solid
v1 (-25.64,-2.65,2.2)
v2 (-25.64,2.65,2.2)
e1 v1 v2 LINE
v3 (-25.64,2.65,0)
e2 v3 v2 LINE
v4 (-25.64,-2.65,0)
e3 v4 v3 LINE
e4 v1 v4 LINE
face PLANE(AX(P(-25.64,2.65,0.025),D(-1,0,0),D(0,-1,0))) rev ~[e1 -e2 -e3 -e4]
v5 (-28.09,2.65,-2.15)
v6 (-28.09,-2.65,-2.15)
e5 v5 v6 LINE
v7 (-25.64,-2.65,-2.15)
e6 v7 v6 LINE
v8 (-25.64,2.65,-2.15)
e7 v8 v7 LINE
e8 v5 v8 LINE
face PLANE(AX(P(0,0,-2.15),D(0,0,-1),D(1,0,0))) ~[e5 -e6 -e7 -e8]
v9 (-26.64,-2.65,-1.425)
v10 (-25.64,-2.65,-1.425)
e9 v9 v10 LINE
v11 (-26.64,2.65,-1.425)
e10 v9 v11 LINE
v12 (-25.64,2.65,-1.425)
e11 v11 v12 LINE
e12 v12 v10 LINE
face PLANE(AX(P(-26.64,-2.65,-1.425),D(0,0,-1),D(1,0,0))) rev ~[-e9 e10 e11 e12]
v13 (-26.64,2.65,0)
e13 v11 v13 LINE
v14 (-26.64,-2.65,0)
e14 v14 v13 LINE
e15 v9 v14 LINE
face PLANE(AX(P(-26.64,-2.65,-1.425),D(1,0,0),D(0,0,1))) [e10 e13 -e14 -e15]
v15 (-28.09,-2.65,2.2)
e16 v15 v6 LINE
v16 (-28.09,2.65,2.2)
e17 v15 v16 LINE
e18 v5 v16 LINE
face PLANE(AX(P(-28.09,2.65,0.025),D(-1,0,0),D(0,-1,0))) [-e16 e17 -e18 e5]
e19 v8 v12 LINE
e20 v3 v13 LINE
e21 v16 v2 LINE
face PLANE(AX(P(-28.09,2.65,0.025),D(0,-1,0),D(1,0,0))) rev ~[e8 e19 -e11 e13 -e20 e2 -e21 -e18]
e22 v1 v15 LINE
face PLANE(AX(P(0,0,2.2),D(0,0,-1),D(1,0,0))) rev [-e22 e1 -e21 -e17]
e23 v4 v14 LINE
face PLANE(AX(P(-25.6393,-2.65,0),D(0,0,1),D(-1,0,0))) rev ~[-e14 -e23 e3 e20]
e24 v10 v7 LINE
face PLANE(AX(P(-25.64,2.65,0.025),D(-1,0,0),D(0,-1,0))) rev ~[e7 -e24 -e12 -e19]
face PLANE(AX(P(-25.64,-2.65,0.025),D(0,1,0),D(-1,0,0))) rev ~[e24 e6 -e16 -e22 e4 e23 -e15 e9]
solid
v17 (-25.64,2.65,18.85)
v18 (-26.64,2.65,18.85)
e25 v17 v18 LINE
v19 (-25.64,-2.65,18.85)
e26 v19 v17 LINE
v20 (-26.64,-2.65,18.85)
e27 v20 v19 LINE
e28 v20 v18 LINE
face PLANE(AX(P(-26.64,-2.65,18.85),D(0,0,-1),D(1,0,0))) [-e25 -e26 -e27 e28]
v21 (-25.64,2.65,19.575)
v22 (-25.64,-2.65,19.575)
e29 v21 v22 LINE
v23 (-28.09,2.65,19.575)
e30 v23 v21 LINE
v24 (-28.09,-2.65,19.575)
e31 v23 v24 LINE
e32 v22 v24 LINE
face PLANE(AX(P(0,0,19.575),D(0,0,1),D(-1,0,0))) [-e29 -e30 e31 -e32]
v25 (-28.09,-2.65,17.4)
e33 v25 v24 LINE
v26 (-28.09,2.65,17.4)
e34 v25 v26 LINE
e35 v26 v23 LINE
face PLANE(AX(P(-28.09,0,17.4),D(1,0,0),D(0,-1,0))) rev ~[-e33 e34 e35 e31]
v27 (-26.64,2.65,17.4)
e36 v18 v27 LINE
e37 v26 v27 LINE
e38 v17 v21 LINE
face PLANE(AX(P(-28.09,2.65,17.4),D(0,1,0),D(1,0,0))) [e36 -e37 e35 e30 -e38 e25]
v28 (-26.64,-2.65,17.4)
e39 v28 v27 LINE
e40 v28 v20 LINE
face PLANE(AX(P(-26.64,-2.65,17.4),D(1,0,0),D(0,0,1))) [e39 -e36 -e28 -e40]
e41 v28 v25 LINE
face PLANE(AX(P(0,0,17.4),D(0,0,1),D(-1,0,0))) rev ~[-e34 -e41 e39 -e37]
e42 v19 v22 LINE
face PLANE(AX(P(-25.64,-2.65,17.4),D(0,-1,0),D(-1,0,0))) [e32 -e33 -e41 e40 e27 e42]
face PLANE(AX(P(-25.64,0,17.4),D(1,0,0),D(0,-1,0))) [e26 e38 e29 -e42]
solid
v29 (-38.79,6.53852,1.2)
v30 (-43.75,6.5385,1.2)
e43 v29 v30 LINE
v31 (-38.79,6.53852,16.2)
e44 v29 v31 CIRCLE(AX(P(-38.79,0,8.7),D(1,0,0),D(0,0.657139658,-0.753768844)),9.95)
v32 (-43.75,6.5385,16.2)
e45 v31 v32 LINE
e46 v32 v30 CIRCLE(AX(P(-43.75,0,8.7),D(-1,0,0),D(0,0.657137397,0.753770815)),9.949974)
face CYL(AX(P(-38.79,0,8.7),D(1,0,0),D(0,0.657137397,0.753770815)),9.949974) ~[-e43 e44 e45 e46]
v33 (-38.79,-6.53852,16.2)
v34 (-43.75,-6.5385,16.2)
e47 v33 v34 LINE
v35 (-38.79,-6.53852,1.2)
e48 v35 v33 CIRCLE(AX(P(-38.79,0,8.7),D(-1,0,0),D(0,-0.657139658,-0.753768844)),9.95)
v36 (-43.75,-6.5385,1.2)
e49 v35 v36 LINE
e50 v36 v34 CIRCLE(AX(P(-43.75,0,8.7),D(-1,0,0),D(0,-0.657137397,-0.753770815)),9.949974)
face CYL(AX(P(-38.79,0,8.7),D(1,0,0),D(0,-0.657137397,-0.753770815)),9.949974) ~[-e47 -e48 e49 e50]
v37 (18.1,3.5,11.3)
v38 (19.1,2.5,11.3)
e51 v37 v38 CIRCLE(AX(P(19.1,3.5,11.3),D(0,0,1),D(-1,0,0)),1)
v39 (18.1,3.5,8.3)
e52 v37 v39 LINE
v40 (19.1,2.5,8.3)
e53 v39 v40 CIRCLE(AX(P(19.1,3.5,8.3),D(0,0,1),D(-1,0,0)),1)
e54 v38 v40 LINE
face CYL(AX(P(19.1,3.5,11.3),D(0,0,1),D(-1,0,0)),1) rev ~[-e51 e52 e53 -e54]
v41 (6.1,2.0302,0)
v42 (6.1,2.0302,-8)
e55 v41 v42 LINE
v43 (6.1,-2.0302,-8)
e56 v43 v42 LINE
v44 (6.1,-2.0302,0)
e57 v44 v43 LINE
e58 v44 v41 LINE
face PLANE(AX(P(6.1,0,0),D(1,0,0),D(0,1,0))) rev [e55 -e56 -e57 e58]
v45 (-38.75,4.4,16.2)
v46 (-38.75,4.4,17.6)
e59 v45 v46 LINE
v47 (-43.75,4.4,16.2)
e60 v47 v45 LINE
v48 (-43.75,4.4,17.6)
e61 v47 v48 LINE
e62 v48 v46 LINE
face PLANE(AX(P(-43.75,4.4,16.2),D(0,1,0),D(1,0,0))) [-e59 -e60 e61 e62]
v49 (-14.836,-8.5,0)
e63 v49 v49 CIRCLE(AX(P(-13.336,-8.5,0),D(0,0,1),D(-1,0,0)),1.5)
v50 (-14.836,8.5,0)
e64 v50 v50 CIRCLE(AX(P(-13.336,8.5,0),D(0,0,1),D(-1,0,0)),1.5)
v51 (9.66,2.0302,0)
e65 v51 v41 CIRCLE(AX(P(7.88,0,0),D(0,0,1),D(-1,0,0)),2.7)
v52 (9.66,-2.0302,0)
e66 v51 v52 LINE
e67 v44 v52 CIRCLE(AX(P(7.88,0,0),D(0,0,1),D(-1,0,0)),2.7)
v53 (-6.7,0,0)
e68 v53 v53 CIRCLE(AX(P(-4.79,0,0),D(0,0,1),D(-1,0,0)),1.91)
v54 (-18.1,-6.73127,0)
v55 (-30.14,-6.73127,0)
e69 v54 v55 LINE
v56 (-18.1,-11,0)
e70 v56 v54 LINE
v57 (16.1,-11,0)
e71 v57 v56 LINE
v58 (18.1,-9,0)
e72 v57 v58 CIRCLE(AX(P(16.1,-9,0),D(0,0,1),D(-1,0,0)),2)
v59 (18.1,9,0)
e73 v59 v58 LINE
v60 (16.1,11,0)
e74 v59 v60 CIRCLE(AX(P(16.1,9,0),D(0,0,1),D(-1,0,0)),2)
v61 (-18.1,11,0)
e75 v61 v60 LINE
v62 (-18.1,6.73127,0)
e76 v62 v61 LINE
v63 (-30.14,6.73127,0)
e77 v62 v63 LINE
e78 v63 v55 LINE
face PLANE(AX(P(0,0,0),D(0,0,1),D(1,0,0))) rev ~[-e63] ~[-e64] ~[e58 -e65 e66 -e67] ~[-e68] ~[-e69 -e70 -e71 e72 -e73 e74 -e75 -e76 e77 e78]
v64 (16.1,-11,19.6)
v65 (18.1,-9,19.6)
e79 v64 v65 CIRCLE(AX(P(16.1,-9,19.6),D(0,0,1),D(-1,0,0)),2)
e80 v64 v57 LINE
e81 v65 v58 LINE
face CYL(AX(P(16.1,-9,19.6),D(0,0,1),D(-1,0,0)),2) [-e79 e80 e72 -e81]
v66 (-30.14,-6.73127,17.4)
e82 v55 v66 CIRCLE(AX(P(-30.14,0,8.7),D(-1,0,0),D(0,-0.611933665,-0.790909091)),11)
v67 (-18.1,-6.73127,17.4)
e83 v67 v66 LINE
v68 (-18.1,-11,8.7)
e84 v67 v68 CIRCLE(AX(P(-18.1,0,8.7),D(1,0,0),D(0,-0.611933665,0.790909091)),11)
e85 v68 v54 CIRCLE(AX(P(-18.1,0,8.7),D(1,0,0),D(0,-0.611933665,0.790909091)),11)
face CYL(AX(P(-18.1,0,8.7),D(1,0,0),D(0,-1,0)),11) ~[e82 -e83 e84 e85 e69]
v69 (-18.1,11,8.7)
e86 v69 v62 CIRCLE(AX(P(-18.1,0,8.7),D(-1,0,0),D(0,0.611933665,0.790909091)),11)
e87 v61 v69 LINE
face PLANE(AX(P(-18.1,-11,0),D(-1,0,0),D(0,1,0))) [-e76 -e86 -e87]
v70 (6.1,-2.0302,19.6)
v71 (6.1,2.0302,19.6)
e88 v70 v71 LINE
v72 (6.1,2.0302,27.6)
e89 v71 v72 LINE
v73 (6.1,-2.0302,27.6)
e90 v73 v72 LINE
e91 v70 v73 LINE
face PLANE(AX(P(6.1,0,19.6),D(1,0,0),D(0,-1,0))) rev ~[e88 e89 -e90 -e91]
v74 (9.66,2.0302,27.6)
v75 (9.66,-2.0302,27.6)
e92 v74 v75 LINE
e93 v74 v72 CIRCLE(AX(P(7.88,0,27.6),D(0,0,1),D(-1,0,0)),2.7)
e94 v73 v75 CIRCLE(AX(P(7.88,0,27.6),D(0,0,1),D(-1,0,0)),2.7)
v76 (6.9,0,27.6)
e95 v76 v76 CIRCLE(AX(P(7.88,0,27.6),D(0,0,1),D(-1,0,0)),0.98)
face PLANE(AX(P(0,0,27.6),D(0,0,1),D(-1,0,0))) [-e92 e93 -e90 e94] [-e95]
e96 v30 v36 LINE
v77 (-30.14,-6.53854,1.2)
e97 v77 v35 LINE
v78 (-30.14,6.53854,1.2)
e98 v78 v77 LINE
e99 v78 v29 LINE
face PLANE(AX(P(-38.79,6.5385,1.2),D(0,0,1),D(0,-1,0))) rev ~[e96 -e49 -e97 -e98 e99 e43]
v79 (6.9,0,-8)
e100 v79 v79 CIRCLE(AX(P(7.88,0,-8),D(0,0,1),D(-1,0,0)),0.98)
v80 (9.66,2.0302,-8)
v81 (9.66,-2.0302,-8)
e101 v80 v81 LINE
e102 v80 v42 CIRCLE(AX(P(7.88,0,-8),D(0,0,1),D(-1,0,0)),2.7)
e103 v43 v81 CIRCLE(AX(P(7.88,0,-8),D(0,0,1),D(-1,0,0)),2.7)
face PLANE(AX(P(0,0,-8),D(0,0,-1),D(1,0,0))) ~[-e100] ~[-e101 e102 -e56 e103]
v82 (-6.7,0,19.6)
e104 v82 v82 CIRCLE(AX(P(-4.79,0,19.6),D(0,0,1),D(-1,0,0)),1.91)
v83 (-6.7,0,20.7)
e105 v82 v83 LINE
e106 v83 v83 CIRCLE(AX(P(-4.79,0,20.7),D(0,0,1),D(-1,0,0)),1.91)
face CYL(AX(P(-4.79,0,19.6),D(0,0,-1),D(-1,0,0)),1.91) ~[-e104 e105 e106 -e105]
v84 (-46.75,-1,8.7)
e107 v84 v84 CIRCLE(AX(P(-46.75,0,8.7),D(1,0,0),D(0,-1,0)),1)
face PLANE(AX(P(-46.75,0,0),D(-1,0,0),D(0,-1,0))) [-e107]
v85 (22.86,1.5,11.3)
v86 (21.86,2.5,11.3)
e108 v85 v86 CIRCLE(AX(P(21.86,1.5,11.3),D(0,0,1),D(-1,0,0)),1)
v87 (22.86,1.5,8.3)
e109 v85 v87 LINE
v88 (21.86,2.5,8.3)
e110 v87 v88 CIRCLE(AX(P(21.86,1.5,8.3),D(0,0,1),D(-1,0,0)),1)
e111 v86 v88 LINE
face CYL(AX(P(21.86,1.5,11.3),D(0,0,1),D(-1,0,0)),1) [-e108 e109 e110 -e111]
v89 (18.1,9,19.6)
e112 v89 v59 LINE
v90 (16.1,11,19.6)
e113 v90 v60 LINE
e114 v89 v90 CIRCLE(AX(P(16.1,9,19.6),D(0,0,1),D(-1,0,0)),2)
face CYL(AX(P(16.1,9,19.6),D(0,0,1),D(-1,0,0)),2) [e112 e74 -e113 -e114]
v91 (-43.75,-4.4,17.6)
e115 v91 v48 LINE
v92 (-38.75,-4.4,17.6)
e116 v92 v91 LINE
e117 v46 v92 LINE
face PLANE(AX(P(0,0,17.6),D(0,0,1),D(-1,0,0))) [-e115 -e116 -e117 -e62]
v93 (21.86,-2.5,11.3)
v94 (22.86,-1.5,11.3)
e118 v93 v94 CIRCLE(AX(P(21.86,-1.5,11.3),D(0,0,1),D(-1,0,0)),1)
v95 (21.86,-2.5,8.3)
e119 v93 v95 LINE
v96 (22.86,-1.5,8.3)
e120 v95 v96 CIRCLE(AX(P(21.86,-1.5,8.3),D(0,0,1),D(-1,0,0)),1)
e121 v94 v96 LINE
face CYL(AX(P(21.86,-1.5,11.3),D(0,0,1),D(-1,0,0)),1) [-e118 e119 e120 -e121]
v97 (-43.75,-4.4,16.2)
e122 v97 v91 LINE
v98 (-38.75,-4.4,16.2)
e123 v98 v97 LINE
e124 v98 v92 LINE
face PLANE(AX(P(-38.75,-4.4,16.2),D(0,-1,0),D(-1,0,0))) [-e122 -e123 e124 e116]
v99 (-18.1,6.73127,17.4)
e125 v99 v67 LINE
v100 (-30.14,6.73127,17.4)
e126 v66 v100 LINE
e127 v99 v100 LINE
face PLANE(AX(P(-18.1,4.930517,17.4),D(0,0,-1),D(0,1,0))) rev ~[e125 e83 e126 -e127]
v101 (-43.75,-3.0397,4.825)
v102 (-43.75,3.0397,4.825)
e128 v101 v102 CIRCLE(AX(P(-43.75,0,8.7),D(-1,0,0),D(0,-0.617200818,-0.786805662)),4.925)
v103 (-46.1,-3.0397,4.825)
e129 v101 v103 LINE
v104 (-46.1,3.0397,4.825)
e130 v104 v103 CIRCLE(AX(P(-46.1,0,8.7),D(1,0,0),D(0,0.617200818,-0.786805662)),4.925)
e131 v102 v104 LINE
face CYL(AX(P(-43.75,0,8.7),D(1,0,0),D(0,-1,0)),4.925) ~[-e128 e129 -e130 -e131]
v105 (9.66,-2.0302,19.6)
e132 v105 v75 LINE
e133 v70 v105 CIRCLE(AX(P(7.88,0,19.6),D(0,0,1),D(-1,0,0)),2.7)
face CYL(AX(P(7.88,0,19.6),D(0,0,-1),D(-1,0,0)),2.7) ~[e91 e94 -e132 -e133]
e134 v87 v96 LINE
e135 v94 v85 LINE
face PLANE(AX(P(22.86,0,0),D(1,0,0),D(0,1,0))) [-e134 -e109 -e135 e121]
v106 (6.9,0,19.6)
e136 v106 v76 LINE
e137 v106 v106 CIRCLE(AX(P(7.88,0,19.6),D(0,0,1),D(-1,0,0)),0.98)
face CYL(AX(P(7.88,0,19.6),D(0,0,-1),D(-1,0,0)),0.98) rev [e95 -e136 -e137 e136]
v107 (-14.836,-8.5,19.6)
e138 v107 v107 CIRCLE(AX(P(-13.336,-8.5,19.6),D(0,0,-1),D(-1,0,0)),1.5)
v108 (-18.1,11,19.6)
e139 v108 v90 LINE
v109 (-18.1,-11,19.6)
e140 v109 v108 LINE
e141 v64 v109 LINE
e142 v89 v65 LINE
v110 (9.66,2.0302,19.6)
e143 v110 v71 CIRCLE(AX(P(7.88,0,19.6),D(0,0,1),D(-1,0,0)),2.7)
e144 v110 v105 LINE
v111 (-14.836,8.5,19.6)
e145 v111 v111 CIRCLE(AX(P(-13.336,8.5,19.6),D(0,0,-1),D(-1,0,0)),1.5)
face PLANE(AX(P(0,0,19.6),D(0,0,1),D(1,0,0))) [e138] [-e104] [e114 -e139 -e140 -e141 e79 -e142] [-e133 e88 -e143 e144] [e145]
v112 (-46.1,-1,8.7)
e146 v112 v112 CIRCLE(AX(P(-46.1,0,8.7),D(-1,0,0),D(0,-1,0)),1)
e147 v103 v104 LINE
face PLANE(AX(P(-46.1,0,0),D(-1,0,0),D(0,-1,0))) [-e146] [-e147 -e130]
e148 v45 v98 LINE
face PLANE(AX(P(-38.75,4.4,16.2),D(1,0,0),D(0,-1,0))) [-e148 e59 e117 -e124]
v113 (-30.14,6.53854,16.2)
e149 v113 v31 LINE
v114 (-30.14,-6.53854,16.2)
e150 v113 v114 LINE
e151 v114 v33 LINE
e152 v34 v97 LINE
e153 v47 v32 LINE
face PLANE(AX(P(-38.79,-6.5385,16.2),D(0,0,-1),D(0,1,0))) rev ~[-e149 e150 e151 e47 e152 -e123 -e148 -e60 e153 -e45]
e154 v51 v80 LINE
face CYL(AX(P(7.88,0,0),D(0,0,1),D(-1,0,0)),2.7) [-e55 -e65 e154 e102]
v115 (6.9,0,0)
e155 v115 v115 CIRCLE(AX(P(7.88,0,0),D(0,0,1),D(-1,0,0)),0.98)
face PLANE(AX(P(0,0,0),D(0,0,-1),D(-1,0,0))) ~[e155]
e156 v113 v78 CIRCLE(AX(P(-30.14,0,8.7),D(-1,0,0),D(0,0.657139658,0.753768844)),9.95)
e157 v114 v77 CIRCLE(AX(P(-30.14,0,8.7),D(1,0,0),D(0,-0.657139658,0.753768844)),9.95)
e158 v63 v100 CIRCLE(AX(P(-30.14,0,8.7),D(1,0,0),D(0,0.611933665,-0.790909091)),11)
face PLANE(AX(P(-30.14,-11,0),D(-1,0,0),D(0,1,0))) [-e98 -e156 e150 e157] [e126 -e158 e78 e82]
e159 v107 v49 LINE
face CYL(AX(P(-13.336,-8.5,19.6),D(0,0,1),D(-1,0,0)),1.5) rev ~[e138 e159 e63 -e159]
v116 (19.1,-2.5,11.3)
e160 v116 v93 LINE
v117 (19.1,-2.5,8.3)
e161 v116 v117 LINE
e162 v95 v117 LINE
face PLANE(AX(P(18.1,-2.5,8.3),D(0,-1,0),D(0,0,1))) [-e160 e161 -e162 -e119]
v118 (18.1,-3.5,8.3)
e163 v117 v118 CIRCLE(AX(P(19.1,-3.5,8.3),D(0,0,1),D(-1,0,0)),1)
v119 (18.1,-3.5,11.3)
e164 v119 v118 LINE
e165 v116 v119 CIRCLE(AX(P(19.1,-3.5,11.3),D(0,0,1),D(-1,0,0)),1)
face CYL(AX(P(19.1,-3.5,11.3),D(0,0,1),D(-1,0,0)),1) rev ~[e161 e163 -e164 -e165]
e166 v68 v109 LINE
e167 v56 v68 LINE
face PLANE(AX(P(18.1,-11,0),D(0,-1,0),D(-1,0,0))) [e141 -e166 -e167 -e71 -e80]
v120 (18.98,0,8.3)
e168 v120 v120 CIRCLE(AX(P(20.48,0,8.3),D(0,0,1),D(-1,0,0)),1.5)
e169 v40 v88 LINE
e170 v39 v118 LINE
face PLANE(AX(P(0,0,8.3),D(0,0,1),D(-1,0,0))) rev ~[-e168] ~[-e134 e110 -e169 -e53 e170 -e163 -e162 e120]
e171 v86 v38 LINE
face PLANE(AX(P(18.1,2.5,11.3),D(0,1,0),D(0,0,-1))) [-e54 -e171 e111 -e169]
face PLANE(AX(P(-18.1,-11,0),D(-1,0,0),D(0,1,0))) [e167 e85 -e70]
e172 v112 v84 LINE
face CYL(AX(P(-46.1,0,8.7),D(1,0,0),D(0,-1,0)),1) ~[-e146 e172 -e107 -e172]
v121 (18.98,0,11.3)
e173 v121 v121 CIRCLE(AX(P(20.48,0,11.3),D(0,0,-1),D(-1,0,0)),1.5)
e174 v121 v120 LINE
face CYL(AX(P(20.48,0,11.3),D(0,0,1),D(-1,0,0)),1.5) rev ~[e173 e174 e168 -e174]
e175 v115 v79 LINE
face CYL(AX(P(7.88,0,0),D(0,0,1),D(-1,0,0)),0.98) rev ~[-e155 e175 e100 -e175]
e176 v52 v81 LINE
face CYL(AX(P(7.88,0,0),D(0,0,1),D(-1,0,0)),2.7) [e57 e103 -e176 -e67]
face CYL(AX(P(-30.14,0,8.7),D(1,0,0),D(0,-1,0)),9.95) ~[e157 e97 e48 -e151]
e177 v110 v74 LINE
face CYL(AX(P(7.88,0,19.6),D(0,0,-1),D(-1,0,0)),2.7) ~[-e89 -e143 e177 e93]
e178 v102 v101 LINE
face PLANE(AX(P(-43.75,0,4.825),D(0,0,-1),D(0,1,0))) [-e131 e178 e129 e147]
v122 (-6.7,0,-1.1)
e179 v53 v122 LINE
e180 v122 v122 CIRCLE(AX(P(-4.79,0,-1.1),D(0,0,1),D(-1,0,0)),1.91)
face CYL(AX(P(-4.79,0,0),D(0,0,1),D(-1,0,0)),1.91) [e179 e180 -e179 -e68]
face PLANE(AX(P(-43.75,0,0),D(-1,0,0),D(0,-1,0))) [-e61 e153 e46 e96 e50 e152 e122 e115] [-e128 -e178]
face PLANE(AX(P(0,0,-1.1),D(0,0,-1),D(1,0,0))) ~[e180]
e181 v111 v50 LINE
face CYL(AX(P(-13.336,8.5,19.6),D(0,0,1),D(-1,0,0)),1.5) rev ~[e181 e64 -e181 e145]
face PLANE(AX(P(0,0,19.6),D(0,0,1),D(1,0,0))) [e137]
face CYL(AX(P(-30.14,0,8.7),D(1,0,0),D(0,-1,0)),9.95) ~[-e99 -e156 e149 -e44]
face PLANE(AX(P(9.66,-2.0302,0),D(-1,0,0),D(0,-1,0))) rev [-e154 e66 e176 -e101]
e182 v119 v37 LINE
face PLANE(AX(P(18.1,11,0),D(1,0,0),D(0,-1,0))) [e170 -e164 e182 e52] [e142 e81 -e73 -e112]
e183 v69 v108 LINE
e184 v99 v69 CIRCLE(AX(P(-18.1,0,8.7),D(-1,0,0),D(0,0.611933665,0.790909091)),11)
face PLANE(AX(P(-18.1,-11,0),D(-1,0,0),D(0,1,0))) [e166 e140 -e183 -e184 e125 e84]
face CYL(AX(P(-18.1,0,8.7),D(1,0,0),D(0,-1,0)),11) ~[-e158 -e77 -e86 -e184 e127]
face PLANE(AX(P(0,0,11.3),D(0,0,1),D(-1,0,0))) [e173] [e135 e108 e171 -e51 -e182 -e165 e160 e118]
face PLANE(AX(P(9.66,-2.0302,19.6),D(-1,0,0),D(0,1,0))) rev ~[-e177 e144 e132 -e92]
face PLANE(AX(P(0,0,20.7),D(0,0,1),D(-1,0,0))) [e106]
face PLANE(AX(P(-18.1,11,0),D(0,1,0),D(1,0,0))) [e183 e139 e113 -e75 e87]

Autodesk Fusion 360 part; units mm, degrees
sketch "Sketch1" plane through (0, 0, 0) normal (0, 0, 1) x (1, 0, 0)
  line L0 (-18.1, 11) -> (18.1, 11)
  line L1 (18.1, 11) -> (18.1, -11)
  line L2 (18.1, -11) -> (-18.1, -11)
  line L3 (-18.1, -11) -> (-18.1, 11)
  line L4 (-18.1, 11) -> (18.1, -11) construction
  line L5 (18.1, 11) -> (-18.1, -11) construction
  dimension "d1" = 36.2
  dimension "d2" = 22
extrude "Extrude1" add sketch "Sketch1" along normal blind 19.6 makes body 1
sketch "Sketch2" plane through (0, 0, 19.6) normal (0, 0, 1) x (-1, 0, 0)
  line L0 (18.1, 11) -> (-18.1, 11)
  line L1 (-18.1, 11) -> (-18.1, -11)
  line L2 (-18.1, -11) -> (18.1, -11)
  line L3 (18.1, -11) -> (18.1, 11)
  circle A0 centre (-7.88, 0) radius 2.7
  line L4 (-6.1, 0) -> (-6.1, -2.0302)
  line L5 (-6.1, 0) -> (-6.1, 2.0302)
  line L6 (-9.66, 0) -> (-9.66, -2.0302)
  line L7 (-9.66, 2.0302) -> (-9.66, 0)
  circle A1 centre (-7.88, 0) radius 0.98
  point P0 (-7.88, 0)
  point P1 (-6.1, 0)
  point P2 (-9.66, 0)
  dimension "d6" = 3.56
  dimension "d8" = 5.4
extrude "Extrude2" add sketch "Sketch2" along normal blind 8 contours A0 L4 L5 L6 L7 bodies 1
sketch "Sketch3" plane through (0, 0, 19.6) normal (0, 0, 1) x (-1, 0, 0)
  line L0 (18.1, 11) -> (-18.1, 11)
  line L1 (-18.1, 11) -> (-18.1, -11)
  line L2 (-18.1, -11) -> (18.1, -11)
  line L3 (18.1, -11) -> (18.1, 11)
  arc A0 (-9.66, -2.0302) -> (-6.1, -2.0302) centre (-7.88, 0) ccw
  line L4 (-9.66, -2.0302) -> (-9.66, 2.0302)
  arc A1 (-6.1, 2.0302) -> (-9.66, 2.0302) centre (-7.88, 0) ccw
  line L5 (-6.1, 2.0302) -> (-6.1, -2.0302)
  circle A2 centre (4.79, 0) radius 1.91
extrude "Extrude3" add sketch "Sketch3" along normal blind 1.1 contours A2 bodies 1
mirror "Mirror1" about plane through (0, 0, 9.8) normal (0, 0, 1) of bodies 1 merged
sketch "Sketch4" plane through (0, 0, 0) normal (0, 0, -1) x (1, 0, 0)
  line L0 (18.1, 11) -> (-18.1, 11)
  line L1 (-18.1, 11) -> (-18.1, -11)
  line L2 (-18.1, -11) -> (18.1, -11)
  line L3 (18.1, -11) -> (18.1, 11)
  arc A0 (6.1, -2.0302) -> (9.66, -2.0302) centre (7.88, 0) ccw
  line L4 (6.1, -2.0302) -> (6.1, 2.0302)
  arc A1 (9.66, 2.0302) -> (6.1, 2.0302) centre (7.88, 0) ccw
  line L5 (9.66, 2.0302) -> (9.66, -2.0302)
  circle A2 centre (-4.79, 0) radius 1.91
extrude "Extrude4" cut 1 faces at (-4.2895, 0.234, 20.7) along direction (0, 0, 1) blind 1.1 on bodies 1 bodies 1
sketch "Sketch5" plane through (18.1, 0, 0) normal (1, 0, 0) x (0, 1, 0)
  line L0 (-11, 0) -> (11, 0)
  line L1 (11, 0) -> (11, 19.6)
  line L2 (11, 19.6) -> (-11, 19.6)
  line L3 (-11, 19.6) -> (-11, 0)
  line L4 (0, 0) -> (0, 9.8)
  line L5 (-2.5, 11.3) -> (2.5, 11.3)
  line L6 (2.5, 11.3) -> (2.5, 8.3)
  line L7 (2.5, 8.3) -> (-2.5, 8.3)
  line L8 (-2.5, 8.3) -> (-2.5, 11.3)
  line L9 (-2.5, 11.3) -> (2.5, 8.3) construction
  line L10 (2.5, 11.3) -> (-2.5, 8.3) construction
  point P0 (0, 9.8)
  dimension "d20" = 9.8
  dimension "d21" = 5
  dimension "d22" = 3
extrude "Extrude5" add sketch "Sketch5" along normal blind 4.76 contours L5 L6 L7 L8 bodies 1
sketch "Sketch6" plane through (0, 0, 11.3) normal (0, 0, 1) x (-1, 0, 0)
  line L0 (-18.1, -2.5) -> (-18.1, 2.5)
  line L1 (-18.1, 2.5) -> (-22.86, 2.5)
  line L2 (-22.86, 2.5) -> (-22.86, -2.5)
  line L3 (-22.86, -2.5) -> (-18.1, -2.5)
  line L4 (-22.86, 0) -> (-20.48, 0)
  circle A0 centre (-20.48, 0) radius 1.5
  dimension "d25" = 2.38
  dimension "d26" = 3
extrude "Extrude6" cut sketch "Sketch6" against normal blind 3 contours A0 bodies 1
sketch "Sketch7" plane through (0, 0, 11.3) normal (0, 0, 1) x (-1, 0, 0)
  circle A0 centre (-20.48, 0) radius 1.5
  line L0 (-18.1, -2.5) -> (-18.1, 2.5)
  line L1 (-18.1, 2.5) -> (-22.86, 2.5)
  line L2 (-22.86, 2.5) -> (-22.86, -2.5)
  line L3 (-22.86, -2.5) -> (-18.1, -2.5)
  line L4 (-22.86, -2.5) -> (-21.86, -2.5)
  line L5 (-21.86, -2.5) -> (-21.86, -1.5)
  line L6 (-21.86, -1.5) -> (-22.86, -1.5)
  line L7 (-22.86, -1.5) -> (-22.86, -2.5)
  line L8 (-22.86, 2.5) -> (-21.86, 2.5)
  line L9 (-21.86, 2.5) -> (-21.86, 1.5)
  line L10 (-21.86, 1.5) -> (-22.86, 1.5)
  line L11 (-22.86, 1.5) -> (-22.86, 2.5)
  circle A1 centre (-21.86, 1.5) radius 1
  circle A2 centre (-21.86, -1.5) radius 1
  line L12 (-18.1, -2.5) -> (-19.1, -2.5)
  line L13 (-19.1, -2.5) -> (-19.1, -3.5)
  line L14 (-19.1, -3.5) -> (-18.1, -3.5)
  line L15 (-18.1, -3.5) -> (-18.1, -2.5)
  line L16 (-18.1, 2.5) -> (-19.1, 2.5)
  line L17 (-19.1, 2.5) -> (-19.1, 3.5)
  line L18 (-19.1, 3.5) -> (-18.1, 3.5)
  line L19 (-18.1, 3.5) -> (-18.1, 2.5)
  circle A3 centre (-19.1, 3.5) radius 1
  circle A4 centre (-19.1, -3.5) radius 1
  dimension "d29" = 1
  dimension "d30" = 1
  dimension "d31" = 1
  dimension "d32" = 1
  dimension "d33" = 1
  dimension "d34" = 1
  dimension "d35" = 1
  dimension "d36" = 1
extrude "Extrude7" cut sketch "Sketch7" against normal blind 3 contours L1 L2 L8 L11 A1 | L2 L3 L4 L7 A2 | L1 L16 L19 A3 | L3 L12 L15 A4 bodies 1
sketch "Sketch8" plane through (0, 0, 11.3) normal (0, 0, 1) x (-1, 0, 0)
  circle A0 centre (-20.48, 0) radius 1.5
  arc A1 (-22.86, -1.5) -> (-21.86, -2.5) centre (-21.86, -1.5) ccw
  line L0 (-21.86, -2.5) -> (-18.1, -2.5)
  line L1 (-18.1, -2.5) -> (-18.1, 2.5)
  line L2 (-18.1, 2.5) -> (-21.86, 2.5)
  arc A2 (-21.86, 2.5) -> (-22.86, 1.5) centre (-21.86, 1.5) ccw
  line L3 (-22.86, 1.5) -> (-22.86, -1.5)
  line L4 (-18.1, -2.5) -> (-19.1, -2.5)
  line L5 (-19.1, -2.5) -> (-19.1, -3.5)
  line L6 (-19.1, -3.5) -> (-18.1, -3.5)
  line L7 (-18.1, -3.5) -> (-18.1, -2.5)
  line L8 (-18.1, 2.5) -> (-19.1, 2.5)
  line L9 (-19.1, 2.5) -> (-19.1, 3.5)
  line L10 (-19.1, 3.5) -> (-18.1, 3.5)
  line L11 (-18.1, 3.5) -> (-18.1, 2.5)
  circle A3 centre (-19.1, -3.5) radius 1
  circle A4 centre (-19.1, 3.5) radius 1
  dimension "d39" = 1
  dimension "d40" = 1
  dimension "d41" = 1
  dimension "d42" = 1
extrude "Extrude8" add sketch "Sketch8" against normal blind 3 contours L0 L4 L7 A3 | L2 L8 L11 A4 bodies 1
sketch "Sketch9" plane through (0, 0, 19.6) normal (0, 0, 1) x (-1, 0, 0)
  circle A0 centre (4.79, 0) radius 1.91
  line L0 (18.1, 11) -> (-18.1, 11)
  line L1 (-18.1, 11) -> (-18.1, -11)
  line L2 (-18.1, -11) -> (18.1, -11)
  line L3 (18.1, -11) -> (18.1, 11)
  arc A1 (-9.66, -2.0302) -> (-6.1, -2.0302) centre (-7.88, 0) ccw
  line L4 (-9.66, -2.0302) -> (-9.66, 2.0302)
  arc A2 (-6.1, 2.0302) -> (-9.66, 2.0302) centre (-7.88, 0) ccw
  line L5 (-6.1, 2.0302) -> (-6.1, -2.0302)
  line L6 (-18.1, -11) -> (-16.1, -11)
  line L7 (-16.1, -11) -> (-16.1, -9)
  line L8 (-16.1, -9) -> (-18.1, -9)
  line L9 (-18.1, -9) -> (-18.1, -11)
  line L10 (-18.1, 11) -> (-16.1, 11)
  line L11 (-16.1, 11) -> (-16.1, 9)
  line L12 (-16.1, 9) -> (-18.1, 9)
  line L13 (-18.1, 9) -> (-18.1, 11)
  circle A3 centre (-16.1, -9) radius 2
  circle A4 centre (-16.1, 9) radius 2
  dimension "d45" = 2
  dimension "d46" = 2
  dimension "d47" = 2
  dimension "d48" = 2
extrude "Extrude9" cut sketch "Sketch9" against normal blind 19.6 contours L0 L1 L10 L13 A4 | L1 L2 L6 L9 A3 bodies 1
sketch "Sketch10" plane through (-18.1, 0, 0) normal (-1, 0, 0) x (0, -1, 0)
  line L0 (-11, 0) -> (11, 0)
  line L1 (11, 0) -> (11, 19.6)
  line L2 (11, 19.6) -> (-11, 19.6)
  line L3 (-11, 19.6) -> (-11, 0)
  line L4 (0, 0) -> (-6.875, 0)
  line L5 (0, 0) -> (6.875, 0)
  line L6 (0, 0) -> (0, 17.4)
  line L7 (0, 0) -> (0, 8.7)
  line L8 (0, 17.4) -> (-6.875, 17.4)
  line L9 (0, 17.4) -> (6.875, 17.4)
  circle A0 centre (0, 8.7) radius 11
  circle A1 centre (0, 8.7) radius 10
  line L10 (0, 17.4) -> (0, 16.4)
  line L11 (0, 0) -> (0, 1)
  line L12 (0, 0) -> (0, 1)
  line L13 (0, 1) -> (7.8556, 1)
  line L14 (0, 1) -> (-7.8556, 1)
  line L15 (0, 16.4) -> (7.8556, 16.4)
  line L16 (0, 16.4) -> (-7.8556, 16.4)
  dimension "d51" = 6.875
  dimension "d52" = 6.875
  dimension "d53" = 17.4
  dimension "d54" = 8.7
  dimension "d55" = 6.875
  dimension "d56" = 6.875
  dimension "d57" = 20
  dimension "d58" = 1
  dimension "d59" = 1
extrude "Extrude10" add sketch "Sketch10" along normal blind 12.04 contours A0 A1 L14 L16 | L0 L4 A0 A1 L14 | L8 A0 A1 L16 | L0 L4 L6 L7 A1 L11 L12 L14 | L0 L5 A0 A1 L13 | L6 L8 A1 L10 L16 | L0 L5 L6 L7 A1 L11 L12 L13 | A0 A1 L13 L15 | L6 L9 A1 L10 L15 | L9 A0 A1 L15 bodies 1
extrude "Extrude11" add 1 faces at (-18.1, 3.5547, 10.9288) along direction (-1, 0, 0) blind 12.04 on bodies 1 bodies 1
sketch "Sketch11" plane through (-30.14, 0, 0) normal (-1, 0, 0) x (0, -1, 0)
  line L0 (-6.7313, 0) -> (6.7313, 0)
  arc A0 (6.7313, 0) -> (6.7313, 17.4) centre (0, 8.7) ccw
  line L1 (6.7313, 17.4) -> (-6.7313, 17.4)
  arc A1 (-6.7313, 17.4) -> (-6.7313, 0) centre (0, 8.7) ccw
  line L2 (0, 8.7) -> (-9.95, 8.7)
  line L3 (0, 8.7) -> (9.95, 8.7)
  line L4 (0, 8.7) -> (0, 16.2)
  line L5 (0, 8.7) -> (0, 1.2)
  line L6 (0, 1.2) -> (-11, 1.2)
  line L7 (-11, 1.2) -> (11, 1.2)
  line L8 (11, 1.2) -> (11, 16.2)
  line L9 (11, 16.2) -> (0, 16.2)
  line L10 (0, 16.2) -> (-11, 16.2)
  line L11 (-11, 16.2) -> (-11, 1.2)
  circle A2 centre (0, 8.7) radius 9.95
  point P0 (0, 8.7)
  dimension "d64" = 9.95
  dimension "d65" = 9.95
  dimension "d66" = 7.5
  dimension "d67" = 7.5
extrude "Extrude12" add sketch "Sketch11" along normal blind 8.65 contours L2 L5 L6 L7 A2 | L3 L5 L7 A2 | L2 L4 L10 A2 | L3 L4 L9 A2 bodies 1
sketch "Sketch12" plane through (0, 0, 16.2) normal (0, 0, 1) x (-1, 0, 0)
  line L0 (30.14, 6.5385) -> (30.14, -6.5385)
sketch "Sketch13" plane through (-38.79, 0, 0) normal (-1, 0, 0) x (0, -1, 0)
  arc A0 (6.5385, 1.2) -> (6.5385, 16.2) centre (0, 8.7) ccw
  line L0 (6.5385, 16.2) -> (-6.5385, 16.2)
  arc A1 (-6.5385, 16.2) -> (-6.5385, 1.2) centre (0, 8.7) ccw
  line L1 (-6.5385, 1.2) -> (6.5385, 1.2)
  point P0 (0, 17.65)
sketch "Sketch14" plane through (0, 0, 16.2) normal (0, 0, 1) x (-1, 0, 0)
sketch "Sketch15" plane through (-38.79, 0, 0) normal (-1, 0, 0) x (0, -1, 0)
extrude "Extrude13" add sketch "Sketch13" along normal blind 4.96 bodies 1
sketch "Sketch16" plane through (0, 0, 16.2) normal (0, 0, 1) x (-1, 0, 0)
  line L0 (30.14, 6.5385) -> (30.14, -6.5385)
  line L1 (30.14, -6.5385) -> (43.75, -6.5385)
  line L2 (43.75, -6.5385) -> (43.75, 6.5385)
  line L3 (43.75, 6.5385) -> (30.14, 6.5385)
  line L4 (43.75, 0) -> (41.25, 0)
  line L5 (43.75, -4.4) -> (38.75, -4.4)
  line L6 (38.75, -4.4) -> (38.75, 4.4)
  line L7 (38.75, 4.4) -> (43.75, 4.4)
  line L8 (43.75, 4.4) -> (43.75, -4.4)
  line L9 (43.75, -4.4) -> (38.75, 4.4) construction
  line L10 (38.75, -4.4) -> (43.75, 4.4) construction
  point P0 (41.25, 0)
  dimension "d74" = 5
  dimension "d75" = 8.8
extrude "Extrude14" add sketch "Sketch16" along normal blind 1.4 contours L2 L5 L6 L7 L8 bodies 1
sketch "Sketch17" plane through (0, 0, 20.7) normal (0, 0, 1) x (-1, 0, 0)
  circle A0 centre (4.79, 0) radius 1.91
sketch "Sketch18" plane through (-18.1, 0, 0) normal (-1, 0, 0) x (0, -1, 0)
  arc A0 (11, 8.7) -> (6.7313, 17.4) centre (0, 8.7) ccw
  line L0 (11, 8.7) -> (11, 19.6)
  line L1 (11, 19.6) -> (-11, 19.6)
  line L2 (-11, 19.6) -> (-11, 8.7)
  arc A1 (-6.7313, 17.4) -> (-11, 8.7) centre (0, 8.7) ccw
  line L3 (-6.7313, 17.4) -> (6.7313, 17.4)
sketch "Sketch19" plane through (0, 0, 17.4) normal (0, 0, 1) x (-1, 0, 0)
  line L0 (18.1, 6.7313) -> (18.1, -6.7313)
  line L1 (18.1, -6.7313) -> (30.14, -6.7313)
  line L2 (30.14, -6.7313) -> (30.14, 6.7313)
  line L3 (30.14, 6.7313) -> (18.1, 6.7313)
  line L4 (18.1, 0) -> (28.09, 0)
  line L5 (28.09, 0) -> (28.09, -2.65)
  line L6 (28.09, 0) -> (28.09, 2.65)
  line L7 (28.09, 0) -> (25.64, 0)
  line L8 (28.09, -2.65) -> (25.64, -2.65)
  line L9 (25.64, -2.65) -> (25.64, 2.65)
  line L10 (25.64, 2.65) -> (28.09, 2.65)
  line L11 (28.09, 2.65) -> (28.09, -2.65)
  dimension "d79" = 2.65
  dimension "d80" = 2.65
  dimension "d81" = 2.45
  dimension "d82" = 2.45
  dimension "d83" = 5.3
extrude "Extrude15" add sketch "Sketch19" along normal blind 2.175 separate body contours L4 L6 L7 L9 L10 L11 | L4 L5 L7 L8 L9 L11 makes body 2
mirror "Mirror2" about plane through (0, 0, 9.8) normal (0, 0, 1) of bodies 2 makes body 3
extrude "Extrude16" add 1 faces at (-26.4567, -0.8833, 0.025) along direction (0, 0, -1) blind 2.175 on bodies 3 bodies 3
sketch "Sketch20" plane through (0, -2.65, 0) normal (0, -1, 0) x (1, 0, 0)
  line L0 (-28.09, 17.4) -> (-25.64, 17.4)
  line L1 (-25.64, 17.4) -> (-25.64, 19.575)
  line L2 (-25.64, 19.575) -> (-28.09, 19.575)
  line L3 (-28.09, 19.575) -> (-28.09, 17.4)
  line L4 (-28.09, 17.4) -> (-26.64, 17.4)
  line L5 (-26.64, 17.4) -> (-26.64, 18.85)
  line L6 (-26.64, 18.85) -> (-25.64, 18.85)
  dimension "d90" = 1.45
  dimension "d91" = 1.45
extrude "Extrude17" cut sketch "Sketch20" against normal blind 6 contours L0 L1 L5 L6 bodies 2
sketch "Sketch21" plane through (0, -2.65, 0) normal (0, -1, 0) x (1, 0, 0)
  line L0 (-25.64, 2.2) -> (-28.09, 2.2)
  line L1 (-28.09, 2.2) -> (-28.09, -2.15)
  line L2 (-28.09, -2.15) -> (-25.64, -2.15)
  line L3 (-25.64, -2.15) -> (-25.64, 2.2)
  line L4 (-28.09, -0.2126) -> (-26.64, -0.2126)
  line L5 (-26.64, -0.2126) -> (-26.64, 2.2)
  line L6 (-26.64, -0.2126) -> (-26.64, -2.15)
  dimension "d94" = 1.45
sketch "Sketch22" plane through (0, -2.65, 0) normal (0, -1, 0) x (1, 0, 0)
  line L0 (-26.64, 17.4) -> (-26.64, 18.85)
  line L1 (-26.64, 18.85) -> (-25.64, 18.85)
  line L2 (-25.64, 18.85) -> (-25.64, 19.575)
  line L3 (-25.64, 19.575) -> (-28.09, 19.575)
  line L4 (-28.09, 19.575) -> (-28.09, 17.4)
  line L5 (-28.09, 17.4) -> (-26.64, 17.4)
sketch "Sketch23" plane through (0, -2.65, 0) normal (0, -1, 0) x (1, 0, 0)
  line L0 (-26.64, -2.15) -> (-26.64, -1.425)
  line L1 (-26.64, -1.425) -> (-25.6393, -1.425)
  line L2 (-25.6393, -1.425) -> (-25.6393, 0)
  line L3 (-25.6393, 0) -> (-26.64, 0)
  line L4 (-26.64, 0) -> (-25.6393, 0)
  line L5 (-25.6393, 0) -> (-25.6393, -1.425)
  line L6 (-25.6393, -1.425) -> (-26.64, -1.425)
  line L7 (-26.64, -1.425) -> (-26.64, 0)
  dimension "d95" = 0.725
extrude "Extrude18" cut sketch "Sketch23" against normal blind 6 bodies 3
sketch "Sketch24" plane through (-43.75, 0, 0) normal (-1, 0, 0) x (0, -1, 0)
  line L0 (-6.5385, 1.2) -> (6.5385, 1.2)
  arc A0 (6.5385, 1.2) -> (6.5385, 16.2) centre (0, 8.7) ccw
  line L1 (6.5385, 16.2) -> (4.4, 16.2)
  line L2 (4.4, 16.2) -> (4.4, 17.6)
  line L3 (4.4, 17.6) -> (-4.4, 17.6)
  line L4 (-4.4, 17.6) -> (-4.4, 16.2)
  line L5 (-4.4, 16.2) -> (-6.5385, 16.2)
  arc A1 (-6.5385, 16.2) -> (-6.5385, 1.2) centre (0, 8.7) ccw
  line L6 (0, 1.2) -> (0, 17.6)
  line L7 (-4.4, 16.2) -> (4.4, 16.2)
  line L8 (0, 16.2) -> (0, 8.7)
  circle A2 centre (0, 8.7) radius 4.925
  line L9 (0, 13.625) -> (0, 4.825)
  line L10 (0, 4.825) -> (-3.0397, 4.825)
  line L11 (0, 4.825) -> (3.0397, 4.825)
  dimension "d98" = 9.85
  dimension "d99" = 8.8
extrude "Extrude19" add sketch "Sketch24" along normal blind 2.35 contours L6 L8 A2 L9 L10 | L6 L8 A2 L9 L11 bodies 1
sketch "Sketch25" plane through (-46.1, 0, 0) normal (-1, 0, 0) x (0, -1, 0)
  line L0 (-3.0397, 4.825) -> (3.0397, 4.825)
  arc A0 (3.0397, 4.825) -> (-3.0397, 4.825) centre (0, 8.7) ccw
  line L1 (4.3381, 6.3684) -> (-4.3381, 11.0316)
  circle A1 centre (0, 8.7) radius 1
  dimension "d102" = 9.85
  dimension "d103" = 2
extrude "Extrude20" add sketch "Sketch25" along normal blind 0.65 contours L1 A1 | L1 A1 bodies 1
sketch "Sketch26" plane through (0, 0, 0) normal (0, 1, 0) x (1, 0, 0)
sketch "Sketch27" plane through (0, 0, 19.6) normal (0, 0, 1) x (-1, 0, 0)
  arc A0 (-16.1, 11) -> (-18.1, 9) centre (-16.1, 9) ccw
  line L0 (-18.1, 9) -> (-18.1, -9)
  arc A1 (-18.1, -9) -> (-16.1, -11) centre (-16.1, -9) ccw
  line L1 (-16.1, -11) -> (18.1, -11)
  line L2 (18.1, -11) -> (18.1, 11)
  line L3 (18.1, 11) -> (-16.1, 11)
  circle A2 centre (4.79, 0) radius 1.91
  arc A3 (-9.66, -2.0302) -> (-6.1, -2.0302) centre (-7.88, 0) ccw
  line L4 (-9.66, -2.0302) -> (-9.66, 2.0302)
  arc A4 (-6.1, 2.0302) -> (-9.66, 2.0302) centre (-7.88, 0) ccw
  line L5 (-6.1, 2.0302) -> (-6.1, -2.0302)
  line L6 (-18.104, -8.5) -> (13.336, -8.5)
  circle A5 centre (13.336, -8.5) radius 1.5
  line L7 (13.336, -8.5) -> (13.336, 8.5)
  circle A6 centre (13.336, 8.5) radius 1.5
  dimension "d107" = 31.44
  dimension "d108" = 3
  dimension "d109" = 17
  dimension "d110" = 3
extrude "Extrude21" cut sketch "Sketch27" against normal blind 20 contours A6 | L6 A5 L7 | L6 A5 L7 bodies 1
